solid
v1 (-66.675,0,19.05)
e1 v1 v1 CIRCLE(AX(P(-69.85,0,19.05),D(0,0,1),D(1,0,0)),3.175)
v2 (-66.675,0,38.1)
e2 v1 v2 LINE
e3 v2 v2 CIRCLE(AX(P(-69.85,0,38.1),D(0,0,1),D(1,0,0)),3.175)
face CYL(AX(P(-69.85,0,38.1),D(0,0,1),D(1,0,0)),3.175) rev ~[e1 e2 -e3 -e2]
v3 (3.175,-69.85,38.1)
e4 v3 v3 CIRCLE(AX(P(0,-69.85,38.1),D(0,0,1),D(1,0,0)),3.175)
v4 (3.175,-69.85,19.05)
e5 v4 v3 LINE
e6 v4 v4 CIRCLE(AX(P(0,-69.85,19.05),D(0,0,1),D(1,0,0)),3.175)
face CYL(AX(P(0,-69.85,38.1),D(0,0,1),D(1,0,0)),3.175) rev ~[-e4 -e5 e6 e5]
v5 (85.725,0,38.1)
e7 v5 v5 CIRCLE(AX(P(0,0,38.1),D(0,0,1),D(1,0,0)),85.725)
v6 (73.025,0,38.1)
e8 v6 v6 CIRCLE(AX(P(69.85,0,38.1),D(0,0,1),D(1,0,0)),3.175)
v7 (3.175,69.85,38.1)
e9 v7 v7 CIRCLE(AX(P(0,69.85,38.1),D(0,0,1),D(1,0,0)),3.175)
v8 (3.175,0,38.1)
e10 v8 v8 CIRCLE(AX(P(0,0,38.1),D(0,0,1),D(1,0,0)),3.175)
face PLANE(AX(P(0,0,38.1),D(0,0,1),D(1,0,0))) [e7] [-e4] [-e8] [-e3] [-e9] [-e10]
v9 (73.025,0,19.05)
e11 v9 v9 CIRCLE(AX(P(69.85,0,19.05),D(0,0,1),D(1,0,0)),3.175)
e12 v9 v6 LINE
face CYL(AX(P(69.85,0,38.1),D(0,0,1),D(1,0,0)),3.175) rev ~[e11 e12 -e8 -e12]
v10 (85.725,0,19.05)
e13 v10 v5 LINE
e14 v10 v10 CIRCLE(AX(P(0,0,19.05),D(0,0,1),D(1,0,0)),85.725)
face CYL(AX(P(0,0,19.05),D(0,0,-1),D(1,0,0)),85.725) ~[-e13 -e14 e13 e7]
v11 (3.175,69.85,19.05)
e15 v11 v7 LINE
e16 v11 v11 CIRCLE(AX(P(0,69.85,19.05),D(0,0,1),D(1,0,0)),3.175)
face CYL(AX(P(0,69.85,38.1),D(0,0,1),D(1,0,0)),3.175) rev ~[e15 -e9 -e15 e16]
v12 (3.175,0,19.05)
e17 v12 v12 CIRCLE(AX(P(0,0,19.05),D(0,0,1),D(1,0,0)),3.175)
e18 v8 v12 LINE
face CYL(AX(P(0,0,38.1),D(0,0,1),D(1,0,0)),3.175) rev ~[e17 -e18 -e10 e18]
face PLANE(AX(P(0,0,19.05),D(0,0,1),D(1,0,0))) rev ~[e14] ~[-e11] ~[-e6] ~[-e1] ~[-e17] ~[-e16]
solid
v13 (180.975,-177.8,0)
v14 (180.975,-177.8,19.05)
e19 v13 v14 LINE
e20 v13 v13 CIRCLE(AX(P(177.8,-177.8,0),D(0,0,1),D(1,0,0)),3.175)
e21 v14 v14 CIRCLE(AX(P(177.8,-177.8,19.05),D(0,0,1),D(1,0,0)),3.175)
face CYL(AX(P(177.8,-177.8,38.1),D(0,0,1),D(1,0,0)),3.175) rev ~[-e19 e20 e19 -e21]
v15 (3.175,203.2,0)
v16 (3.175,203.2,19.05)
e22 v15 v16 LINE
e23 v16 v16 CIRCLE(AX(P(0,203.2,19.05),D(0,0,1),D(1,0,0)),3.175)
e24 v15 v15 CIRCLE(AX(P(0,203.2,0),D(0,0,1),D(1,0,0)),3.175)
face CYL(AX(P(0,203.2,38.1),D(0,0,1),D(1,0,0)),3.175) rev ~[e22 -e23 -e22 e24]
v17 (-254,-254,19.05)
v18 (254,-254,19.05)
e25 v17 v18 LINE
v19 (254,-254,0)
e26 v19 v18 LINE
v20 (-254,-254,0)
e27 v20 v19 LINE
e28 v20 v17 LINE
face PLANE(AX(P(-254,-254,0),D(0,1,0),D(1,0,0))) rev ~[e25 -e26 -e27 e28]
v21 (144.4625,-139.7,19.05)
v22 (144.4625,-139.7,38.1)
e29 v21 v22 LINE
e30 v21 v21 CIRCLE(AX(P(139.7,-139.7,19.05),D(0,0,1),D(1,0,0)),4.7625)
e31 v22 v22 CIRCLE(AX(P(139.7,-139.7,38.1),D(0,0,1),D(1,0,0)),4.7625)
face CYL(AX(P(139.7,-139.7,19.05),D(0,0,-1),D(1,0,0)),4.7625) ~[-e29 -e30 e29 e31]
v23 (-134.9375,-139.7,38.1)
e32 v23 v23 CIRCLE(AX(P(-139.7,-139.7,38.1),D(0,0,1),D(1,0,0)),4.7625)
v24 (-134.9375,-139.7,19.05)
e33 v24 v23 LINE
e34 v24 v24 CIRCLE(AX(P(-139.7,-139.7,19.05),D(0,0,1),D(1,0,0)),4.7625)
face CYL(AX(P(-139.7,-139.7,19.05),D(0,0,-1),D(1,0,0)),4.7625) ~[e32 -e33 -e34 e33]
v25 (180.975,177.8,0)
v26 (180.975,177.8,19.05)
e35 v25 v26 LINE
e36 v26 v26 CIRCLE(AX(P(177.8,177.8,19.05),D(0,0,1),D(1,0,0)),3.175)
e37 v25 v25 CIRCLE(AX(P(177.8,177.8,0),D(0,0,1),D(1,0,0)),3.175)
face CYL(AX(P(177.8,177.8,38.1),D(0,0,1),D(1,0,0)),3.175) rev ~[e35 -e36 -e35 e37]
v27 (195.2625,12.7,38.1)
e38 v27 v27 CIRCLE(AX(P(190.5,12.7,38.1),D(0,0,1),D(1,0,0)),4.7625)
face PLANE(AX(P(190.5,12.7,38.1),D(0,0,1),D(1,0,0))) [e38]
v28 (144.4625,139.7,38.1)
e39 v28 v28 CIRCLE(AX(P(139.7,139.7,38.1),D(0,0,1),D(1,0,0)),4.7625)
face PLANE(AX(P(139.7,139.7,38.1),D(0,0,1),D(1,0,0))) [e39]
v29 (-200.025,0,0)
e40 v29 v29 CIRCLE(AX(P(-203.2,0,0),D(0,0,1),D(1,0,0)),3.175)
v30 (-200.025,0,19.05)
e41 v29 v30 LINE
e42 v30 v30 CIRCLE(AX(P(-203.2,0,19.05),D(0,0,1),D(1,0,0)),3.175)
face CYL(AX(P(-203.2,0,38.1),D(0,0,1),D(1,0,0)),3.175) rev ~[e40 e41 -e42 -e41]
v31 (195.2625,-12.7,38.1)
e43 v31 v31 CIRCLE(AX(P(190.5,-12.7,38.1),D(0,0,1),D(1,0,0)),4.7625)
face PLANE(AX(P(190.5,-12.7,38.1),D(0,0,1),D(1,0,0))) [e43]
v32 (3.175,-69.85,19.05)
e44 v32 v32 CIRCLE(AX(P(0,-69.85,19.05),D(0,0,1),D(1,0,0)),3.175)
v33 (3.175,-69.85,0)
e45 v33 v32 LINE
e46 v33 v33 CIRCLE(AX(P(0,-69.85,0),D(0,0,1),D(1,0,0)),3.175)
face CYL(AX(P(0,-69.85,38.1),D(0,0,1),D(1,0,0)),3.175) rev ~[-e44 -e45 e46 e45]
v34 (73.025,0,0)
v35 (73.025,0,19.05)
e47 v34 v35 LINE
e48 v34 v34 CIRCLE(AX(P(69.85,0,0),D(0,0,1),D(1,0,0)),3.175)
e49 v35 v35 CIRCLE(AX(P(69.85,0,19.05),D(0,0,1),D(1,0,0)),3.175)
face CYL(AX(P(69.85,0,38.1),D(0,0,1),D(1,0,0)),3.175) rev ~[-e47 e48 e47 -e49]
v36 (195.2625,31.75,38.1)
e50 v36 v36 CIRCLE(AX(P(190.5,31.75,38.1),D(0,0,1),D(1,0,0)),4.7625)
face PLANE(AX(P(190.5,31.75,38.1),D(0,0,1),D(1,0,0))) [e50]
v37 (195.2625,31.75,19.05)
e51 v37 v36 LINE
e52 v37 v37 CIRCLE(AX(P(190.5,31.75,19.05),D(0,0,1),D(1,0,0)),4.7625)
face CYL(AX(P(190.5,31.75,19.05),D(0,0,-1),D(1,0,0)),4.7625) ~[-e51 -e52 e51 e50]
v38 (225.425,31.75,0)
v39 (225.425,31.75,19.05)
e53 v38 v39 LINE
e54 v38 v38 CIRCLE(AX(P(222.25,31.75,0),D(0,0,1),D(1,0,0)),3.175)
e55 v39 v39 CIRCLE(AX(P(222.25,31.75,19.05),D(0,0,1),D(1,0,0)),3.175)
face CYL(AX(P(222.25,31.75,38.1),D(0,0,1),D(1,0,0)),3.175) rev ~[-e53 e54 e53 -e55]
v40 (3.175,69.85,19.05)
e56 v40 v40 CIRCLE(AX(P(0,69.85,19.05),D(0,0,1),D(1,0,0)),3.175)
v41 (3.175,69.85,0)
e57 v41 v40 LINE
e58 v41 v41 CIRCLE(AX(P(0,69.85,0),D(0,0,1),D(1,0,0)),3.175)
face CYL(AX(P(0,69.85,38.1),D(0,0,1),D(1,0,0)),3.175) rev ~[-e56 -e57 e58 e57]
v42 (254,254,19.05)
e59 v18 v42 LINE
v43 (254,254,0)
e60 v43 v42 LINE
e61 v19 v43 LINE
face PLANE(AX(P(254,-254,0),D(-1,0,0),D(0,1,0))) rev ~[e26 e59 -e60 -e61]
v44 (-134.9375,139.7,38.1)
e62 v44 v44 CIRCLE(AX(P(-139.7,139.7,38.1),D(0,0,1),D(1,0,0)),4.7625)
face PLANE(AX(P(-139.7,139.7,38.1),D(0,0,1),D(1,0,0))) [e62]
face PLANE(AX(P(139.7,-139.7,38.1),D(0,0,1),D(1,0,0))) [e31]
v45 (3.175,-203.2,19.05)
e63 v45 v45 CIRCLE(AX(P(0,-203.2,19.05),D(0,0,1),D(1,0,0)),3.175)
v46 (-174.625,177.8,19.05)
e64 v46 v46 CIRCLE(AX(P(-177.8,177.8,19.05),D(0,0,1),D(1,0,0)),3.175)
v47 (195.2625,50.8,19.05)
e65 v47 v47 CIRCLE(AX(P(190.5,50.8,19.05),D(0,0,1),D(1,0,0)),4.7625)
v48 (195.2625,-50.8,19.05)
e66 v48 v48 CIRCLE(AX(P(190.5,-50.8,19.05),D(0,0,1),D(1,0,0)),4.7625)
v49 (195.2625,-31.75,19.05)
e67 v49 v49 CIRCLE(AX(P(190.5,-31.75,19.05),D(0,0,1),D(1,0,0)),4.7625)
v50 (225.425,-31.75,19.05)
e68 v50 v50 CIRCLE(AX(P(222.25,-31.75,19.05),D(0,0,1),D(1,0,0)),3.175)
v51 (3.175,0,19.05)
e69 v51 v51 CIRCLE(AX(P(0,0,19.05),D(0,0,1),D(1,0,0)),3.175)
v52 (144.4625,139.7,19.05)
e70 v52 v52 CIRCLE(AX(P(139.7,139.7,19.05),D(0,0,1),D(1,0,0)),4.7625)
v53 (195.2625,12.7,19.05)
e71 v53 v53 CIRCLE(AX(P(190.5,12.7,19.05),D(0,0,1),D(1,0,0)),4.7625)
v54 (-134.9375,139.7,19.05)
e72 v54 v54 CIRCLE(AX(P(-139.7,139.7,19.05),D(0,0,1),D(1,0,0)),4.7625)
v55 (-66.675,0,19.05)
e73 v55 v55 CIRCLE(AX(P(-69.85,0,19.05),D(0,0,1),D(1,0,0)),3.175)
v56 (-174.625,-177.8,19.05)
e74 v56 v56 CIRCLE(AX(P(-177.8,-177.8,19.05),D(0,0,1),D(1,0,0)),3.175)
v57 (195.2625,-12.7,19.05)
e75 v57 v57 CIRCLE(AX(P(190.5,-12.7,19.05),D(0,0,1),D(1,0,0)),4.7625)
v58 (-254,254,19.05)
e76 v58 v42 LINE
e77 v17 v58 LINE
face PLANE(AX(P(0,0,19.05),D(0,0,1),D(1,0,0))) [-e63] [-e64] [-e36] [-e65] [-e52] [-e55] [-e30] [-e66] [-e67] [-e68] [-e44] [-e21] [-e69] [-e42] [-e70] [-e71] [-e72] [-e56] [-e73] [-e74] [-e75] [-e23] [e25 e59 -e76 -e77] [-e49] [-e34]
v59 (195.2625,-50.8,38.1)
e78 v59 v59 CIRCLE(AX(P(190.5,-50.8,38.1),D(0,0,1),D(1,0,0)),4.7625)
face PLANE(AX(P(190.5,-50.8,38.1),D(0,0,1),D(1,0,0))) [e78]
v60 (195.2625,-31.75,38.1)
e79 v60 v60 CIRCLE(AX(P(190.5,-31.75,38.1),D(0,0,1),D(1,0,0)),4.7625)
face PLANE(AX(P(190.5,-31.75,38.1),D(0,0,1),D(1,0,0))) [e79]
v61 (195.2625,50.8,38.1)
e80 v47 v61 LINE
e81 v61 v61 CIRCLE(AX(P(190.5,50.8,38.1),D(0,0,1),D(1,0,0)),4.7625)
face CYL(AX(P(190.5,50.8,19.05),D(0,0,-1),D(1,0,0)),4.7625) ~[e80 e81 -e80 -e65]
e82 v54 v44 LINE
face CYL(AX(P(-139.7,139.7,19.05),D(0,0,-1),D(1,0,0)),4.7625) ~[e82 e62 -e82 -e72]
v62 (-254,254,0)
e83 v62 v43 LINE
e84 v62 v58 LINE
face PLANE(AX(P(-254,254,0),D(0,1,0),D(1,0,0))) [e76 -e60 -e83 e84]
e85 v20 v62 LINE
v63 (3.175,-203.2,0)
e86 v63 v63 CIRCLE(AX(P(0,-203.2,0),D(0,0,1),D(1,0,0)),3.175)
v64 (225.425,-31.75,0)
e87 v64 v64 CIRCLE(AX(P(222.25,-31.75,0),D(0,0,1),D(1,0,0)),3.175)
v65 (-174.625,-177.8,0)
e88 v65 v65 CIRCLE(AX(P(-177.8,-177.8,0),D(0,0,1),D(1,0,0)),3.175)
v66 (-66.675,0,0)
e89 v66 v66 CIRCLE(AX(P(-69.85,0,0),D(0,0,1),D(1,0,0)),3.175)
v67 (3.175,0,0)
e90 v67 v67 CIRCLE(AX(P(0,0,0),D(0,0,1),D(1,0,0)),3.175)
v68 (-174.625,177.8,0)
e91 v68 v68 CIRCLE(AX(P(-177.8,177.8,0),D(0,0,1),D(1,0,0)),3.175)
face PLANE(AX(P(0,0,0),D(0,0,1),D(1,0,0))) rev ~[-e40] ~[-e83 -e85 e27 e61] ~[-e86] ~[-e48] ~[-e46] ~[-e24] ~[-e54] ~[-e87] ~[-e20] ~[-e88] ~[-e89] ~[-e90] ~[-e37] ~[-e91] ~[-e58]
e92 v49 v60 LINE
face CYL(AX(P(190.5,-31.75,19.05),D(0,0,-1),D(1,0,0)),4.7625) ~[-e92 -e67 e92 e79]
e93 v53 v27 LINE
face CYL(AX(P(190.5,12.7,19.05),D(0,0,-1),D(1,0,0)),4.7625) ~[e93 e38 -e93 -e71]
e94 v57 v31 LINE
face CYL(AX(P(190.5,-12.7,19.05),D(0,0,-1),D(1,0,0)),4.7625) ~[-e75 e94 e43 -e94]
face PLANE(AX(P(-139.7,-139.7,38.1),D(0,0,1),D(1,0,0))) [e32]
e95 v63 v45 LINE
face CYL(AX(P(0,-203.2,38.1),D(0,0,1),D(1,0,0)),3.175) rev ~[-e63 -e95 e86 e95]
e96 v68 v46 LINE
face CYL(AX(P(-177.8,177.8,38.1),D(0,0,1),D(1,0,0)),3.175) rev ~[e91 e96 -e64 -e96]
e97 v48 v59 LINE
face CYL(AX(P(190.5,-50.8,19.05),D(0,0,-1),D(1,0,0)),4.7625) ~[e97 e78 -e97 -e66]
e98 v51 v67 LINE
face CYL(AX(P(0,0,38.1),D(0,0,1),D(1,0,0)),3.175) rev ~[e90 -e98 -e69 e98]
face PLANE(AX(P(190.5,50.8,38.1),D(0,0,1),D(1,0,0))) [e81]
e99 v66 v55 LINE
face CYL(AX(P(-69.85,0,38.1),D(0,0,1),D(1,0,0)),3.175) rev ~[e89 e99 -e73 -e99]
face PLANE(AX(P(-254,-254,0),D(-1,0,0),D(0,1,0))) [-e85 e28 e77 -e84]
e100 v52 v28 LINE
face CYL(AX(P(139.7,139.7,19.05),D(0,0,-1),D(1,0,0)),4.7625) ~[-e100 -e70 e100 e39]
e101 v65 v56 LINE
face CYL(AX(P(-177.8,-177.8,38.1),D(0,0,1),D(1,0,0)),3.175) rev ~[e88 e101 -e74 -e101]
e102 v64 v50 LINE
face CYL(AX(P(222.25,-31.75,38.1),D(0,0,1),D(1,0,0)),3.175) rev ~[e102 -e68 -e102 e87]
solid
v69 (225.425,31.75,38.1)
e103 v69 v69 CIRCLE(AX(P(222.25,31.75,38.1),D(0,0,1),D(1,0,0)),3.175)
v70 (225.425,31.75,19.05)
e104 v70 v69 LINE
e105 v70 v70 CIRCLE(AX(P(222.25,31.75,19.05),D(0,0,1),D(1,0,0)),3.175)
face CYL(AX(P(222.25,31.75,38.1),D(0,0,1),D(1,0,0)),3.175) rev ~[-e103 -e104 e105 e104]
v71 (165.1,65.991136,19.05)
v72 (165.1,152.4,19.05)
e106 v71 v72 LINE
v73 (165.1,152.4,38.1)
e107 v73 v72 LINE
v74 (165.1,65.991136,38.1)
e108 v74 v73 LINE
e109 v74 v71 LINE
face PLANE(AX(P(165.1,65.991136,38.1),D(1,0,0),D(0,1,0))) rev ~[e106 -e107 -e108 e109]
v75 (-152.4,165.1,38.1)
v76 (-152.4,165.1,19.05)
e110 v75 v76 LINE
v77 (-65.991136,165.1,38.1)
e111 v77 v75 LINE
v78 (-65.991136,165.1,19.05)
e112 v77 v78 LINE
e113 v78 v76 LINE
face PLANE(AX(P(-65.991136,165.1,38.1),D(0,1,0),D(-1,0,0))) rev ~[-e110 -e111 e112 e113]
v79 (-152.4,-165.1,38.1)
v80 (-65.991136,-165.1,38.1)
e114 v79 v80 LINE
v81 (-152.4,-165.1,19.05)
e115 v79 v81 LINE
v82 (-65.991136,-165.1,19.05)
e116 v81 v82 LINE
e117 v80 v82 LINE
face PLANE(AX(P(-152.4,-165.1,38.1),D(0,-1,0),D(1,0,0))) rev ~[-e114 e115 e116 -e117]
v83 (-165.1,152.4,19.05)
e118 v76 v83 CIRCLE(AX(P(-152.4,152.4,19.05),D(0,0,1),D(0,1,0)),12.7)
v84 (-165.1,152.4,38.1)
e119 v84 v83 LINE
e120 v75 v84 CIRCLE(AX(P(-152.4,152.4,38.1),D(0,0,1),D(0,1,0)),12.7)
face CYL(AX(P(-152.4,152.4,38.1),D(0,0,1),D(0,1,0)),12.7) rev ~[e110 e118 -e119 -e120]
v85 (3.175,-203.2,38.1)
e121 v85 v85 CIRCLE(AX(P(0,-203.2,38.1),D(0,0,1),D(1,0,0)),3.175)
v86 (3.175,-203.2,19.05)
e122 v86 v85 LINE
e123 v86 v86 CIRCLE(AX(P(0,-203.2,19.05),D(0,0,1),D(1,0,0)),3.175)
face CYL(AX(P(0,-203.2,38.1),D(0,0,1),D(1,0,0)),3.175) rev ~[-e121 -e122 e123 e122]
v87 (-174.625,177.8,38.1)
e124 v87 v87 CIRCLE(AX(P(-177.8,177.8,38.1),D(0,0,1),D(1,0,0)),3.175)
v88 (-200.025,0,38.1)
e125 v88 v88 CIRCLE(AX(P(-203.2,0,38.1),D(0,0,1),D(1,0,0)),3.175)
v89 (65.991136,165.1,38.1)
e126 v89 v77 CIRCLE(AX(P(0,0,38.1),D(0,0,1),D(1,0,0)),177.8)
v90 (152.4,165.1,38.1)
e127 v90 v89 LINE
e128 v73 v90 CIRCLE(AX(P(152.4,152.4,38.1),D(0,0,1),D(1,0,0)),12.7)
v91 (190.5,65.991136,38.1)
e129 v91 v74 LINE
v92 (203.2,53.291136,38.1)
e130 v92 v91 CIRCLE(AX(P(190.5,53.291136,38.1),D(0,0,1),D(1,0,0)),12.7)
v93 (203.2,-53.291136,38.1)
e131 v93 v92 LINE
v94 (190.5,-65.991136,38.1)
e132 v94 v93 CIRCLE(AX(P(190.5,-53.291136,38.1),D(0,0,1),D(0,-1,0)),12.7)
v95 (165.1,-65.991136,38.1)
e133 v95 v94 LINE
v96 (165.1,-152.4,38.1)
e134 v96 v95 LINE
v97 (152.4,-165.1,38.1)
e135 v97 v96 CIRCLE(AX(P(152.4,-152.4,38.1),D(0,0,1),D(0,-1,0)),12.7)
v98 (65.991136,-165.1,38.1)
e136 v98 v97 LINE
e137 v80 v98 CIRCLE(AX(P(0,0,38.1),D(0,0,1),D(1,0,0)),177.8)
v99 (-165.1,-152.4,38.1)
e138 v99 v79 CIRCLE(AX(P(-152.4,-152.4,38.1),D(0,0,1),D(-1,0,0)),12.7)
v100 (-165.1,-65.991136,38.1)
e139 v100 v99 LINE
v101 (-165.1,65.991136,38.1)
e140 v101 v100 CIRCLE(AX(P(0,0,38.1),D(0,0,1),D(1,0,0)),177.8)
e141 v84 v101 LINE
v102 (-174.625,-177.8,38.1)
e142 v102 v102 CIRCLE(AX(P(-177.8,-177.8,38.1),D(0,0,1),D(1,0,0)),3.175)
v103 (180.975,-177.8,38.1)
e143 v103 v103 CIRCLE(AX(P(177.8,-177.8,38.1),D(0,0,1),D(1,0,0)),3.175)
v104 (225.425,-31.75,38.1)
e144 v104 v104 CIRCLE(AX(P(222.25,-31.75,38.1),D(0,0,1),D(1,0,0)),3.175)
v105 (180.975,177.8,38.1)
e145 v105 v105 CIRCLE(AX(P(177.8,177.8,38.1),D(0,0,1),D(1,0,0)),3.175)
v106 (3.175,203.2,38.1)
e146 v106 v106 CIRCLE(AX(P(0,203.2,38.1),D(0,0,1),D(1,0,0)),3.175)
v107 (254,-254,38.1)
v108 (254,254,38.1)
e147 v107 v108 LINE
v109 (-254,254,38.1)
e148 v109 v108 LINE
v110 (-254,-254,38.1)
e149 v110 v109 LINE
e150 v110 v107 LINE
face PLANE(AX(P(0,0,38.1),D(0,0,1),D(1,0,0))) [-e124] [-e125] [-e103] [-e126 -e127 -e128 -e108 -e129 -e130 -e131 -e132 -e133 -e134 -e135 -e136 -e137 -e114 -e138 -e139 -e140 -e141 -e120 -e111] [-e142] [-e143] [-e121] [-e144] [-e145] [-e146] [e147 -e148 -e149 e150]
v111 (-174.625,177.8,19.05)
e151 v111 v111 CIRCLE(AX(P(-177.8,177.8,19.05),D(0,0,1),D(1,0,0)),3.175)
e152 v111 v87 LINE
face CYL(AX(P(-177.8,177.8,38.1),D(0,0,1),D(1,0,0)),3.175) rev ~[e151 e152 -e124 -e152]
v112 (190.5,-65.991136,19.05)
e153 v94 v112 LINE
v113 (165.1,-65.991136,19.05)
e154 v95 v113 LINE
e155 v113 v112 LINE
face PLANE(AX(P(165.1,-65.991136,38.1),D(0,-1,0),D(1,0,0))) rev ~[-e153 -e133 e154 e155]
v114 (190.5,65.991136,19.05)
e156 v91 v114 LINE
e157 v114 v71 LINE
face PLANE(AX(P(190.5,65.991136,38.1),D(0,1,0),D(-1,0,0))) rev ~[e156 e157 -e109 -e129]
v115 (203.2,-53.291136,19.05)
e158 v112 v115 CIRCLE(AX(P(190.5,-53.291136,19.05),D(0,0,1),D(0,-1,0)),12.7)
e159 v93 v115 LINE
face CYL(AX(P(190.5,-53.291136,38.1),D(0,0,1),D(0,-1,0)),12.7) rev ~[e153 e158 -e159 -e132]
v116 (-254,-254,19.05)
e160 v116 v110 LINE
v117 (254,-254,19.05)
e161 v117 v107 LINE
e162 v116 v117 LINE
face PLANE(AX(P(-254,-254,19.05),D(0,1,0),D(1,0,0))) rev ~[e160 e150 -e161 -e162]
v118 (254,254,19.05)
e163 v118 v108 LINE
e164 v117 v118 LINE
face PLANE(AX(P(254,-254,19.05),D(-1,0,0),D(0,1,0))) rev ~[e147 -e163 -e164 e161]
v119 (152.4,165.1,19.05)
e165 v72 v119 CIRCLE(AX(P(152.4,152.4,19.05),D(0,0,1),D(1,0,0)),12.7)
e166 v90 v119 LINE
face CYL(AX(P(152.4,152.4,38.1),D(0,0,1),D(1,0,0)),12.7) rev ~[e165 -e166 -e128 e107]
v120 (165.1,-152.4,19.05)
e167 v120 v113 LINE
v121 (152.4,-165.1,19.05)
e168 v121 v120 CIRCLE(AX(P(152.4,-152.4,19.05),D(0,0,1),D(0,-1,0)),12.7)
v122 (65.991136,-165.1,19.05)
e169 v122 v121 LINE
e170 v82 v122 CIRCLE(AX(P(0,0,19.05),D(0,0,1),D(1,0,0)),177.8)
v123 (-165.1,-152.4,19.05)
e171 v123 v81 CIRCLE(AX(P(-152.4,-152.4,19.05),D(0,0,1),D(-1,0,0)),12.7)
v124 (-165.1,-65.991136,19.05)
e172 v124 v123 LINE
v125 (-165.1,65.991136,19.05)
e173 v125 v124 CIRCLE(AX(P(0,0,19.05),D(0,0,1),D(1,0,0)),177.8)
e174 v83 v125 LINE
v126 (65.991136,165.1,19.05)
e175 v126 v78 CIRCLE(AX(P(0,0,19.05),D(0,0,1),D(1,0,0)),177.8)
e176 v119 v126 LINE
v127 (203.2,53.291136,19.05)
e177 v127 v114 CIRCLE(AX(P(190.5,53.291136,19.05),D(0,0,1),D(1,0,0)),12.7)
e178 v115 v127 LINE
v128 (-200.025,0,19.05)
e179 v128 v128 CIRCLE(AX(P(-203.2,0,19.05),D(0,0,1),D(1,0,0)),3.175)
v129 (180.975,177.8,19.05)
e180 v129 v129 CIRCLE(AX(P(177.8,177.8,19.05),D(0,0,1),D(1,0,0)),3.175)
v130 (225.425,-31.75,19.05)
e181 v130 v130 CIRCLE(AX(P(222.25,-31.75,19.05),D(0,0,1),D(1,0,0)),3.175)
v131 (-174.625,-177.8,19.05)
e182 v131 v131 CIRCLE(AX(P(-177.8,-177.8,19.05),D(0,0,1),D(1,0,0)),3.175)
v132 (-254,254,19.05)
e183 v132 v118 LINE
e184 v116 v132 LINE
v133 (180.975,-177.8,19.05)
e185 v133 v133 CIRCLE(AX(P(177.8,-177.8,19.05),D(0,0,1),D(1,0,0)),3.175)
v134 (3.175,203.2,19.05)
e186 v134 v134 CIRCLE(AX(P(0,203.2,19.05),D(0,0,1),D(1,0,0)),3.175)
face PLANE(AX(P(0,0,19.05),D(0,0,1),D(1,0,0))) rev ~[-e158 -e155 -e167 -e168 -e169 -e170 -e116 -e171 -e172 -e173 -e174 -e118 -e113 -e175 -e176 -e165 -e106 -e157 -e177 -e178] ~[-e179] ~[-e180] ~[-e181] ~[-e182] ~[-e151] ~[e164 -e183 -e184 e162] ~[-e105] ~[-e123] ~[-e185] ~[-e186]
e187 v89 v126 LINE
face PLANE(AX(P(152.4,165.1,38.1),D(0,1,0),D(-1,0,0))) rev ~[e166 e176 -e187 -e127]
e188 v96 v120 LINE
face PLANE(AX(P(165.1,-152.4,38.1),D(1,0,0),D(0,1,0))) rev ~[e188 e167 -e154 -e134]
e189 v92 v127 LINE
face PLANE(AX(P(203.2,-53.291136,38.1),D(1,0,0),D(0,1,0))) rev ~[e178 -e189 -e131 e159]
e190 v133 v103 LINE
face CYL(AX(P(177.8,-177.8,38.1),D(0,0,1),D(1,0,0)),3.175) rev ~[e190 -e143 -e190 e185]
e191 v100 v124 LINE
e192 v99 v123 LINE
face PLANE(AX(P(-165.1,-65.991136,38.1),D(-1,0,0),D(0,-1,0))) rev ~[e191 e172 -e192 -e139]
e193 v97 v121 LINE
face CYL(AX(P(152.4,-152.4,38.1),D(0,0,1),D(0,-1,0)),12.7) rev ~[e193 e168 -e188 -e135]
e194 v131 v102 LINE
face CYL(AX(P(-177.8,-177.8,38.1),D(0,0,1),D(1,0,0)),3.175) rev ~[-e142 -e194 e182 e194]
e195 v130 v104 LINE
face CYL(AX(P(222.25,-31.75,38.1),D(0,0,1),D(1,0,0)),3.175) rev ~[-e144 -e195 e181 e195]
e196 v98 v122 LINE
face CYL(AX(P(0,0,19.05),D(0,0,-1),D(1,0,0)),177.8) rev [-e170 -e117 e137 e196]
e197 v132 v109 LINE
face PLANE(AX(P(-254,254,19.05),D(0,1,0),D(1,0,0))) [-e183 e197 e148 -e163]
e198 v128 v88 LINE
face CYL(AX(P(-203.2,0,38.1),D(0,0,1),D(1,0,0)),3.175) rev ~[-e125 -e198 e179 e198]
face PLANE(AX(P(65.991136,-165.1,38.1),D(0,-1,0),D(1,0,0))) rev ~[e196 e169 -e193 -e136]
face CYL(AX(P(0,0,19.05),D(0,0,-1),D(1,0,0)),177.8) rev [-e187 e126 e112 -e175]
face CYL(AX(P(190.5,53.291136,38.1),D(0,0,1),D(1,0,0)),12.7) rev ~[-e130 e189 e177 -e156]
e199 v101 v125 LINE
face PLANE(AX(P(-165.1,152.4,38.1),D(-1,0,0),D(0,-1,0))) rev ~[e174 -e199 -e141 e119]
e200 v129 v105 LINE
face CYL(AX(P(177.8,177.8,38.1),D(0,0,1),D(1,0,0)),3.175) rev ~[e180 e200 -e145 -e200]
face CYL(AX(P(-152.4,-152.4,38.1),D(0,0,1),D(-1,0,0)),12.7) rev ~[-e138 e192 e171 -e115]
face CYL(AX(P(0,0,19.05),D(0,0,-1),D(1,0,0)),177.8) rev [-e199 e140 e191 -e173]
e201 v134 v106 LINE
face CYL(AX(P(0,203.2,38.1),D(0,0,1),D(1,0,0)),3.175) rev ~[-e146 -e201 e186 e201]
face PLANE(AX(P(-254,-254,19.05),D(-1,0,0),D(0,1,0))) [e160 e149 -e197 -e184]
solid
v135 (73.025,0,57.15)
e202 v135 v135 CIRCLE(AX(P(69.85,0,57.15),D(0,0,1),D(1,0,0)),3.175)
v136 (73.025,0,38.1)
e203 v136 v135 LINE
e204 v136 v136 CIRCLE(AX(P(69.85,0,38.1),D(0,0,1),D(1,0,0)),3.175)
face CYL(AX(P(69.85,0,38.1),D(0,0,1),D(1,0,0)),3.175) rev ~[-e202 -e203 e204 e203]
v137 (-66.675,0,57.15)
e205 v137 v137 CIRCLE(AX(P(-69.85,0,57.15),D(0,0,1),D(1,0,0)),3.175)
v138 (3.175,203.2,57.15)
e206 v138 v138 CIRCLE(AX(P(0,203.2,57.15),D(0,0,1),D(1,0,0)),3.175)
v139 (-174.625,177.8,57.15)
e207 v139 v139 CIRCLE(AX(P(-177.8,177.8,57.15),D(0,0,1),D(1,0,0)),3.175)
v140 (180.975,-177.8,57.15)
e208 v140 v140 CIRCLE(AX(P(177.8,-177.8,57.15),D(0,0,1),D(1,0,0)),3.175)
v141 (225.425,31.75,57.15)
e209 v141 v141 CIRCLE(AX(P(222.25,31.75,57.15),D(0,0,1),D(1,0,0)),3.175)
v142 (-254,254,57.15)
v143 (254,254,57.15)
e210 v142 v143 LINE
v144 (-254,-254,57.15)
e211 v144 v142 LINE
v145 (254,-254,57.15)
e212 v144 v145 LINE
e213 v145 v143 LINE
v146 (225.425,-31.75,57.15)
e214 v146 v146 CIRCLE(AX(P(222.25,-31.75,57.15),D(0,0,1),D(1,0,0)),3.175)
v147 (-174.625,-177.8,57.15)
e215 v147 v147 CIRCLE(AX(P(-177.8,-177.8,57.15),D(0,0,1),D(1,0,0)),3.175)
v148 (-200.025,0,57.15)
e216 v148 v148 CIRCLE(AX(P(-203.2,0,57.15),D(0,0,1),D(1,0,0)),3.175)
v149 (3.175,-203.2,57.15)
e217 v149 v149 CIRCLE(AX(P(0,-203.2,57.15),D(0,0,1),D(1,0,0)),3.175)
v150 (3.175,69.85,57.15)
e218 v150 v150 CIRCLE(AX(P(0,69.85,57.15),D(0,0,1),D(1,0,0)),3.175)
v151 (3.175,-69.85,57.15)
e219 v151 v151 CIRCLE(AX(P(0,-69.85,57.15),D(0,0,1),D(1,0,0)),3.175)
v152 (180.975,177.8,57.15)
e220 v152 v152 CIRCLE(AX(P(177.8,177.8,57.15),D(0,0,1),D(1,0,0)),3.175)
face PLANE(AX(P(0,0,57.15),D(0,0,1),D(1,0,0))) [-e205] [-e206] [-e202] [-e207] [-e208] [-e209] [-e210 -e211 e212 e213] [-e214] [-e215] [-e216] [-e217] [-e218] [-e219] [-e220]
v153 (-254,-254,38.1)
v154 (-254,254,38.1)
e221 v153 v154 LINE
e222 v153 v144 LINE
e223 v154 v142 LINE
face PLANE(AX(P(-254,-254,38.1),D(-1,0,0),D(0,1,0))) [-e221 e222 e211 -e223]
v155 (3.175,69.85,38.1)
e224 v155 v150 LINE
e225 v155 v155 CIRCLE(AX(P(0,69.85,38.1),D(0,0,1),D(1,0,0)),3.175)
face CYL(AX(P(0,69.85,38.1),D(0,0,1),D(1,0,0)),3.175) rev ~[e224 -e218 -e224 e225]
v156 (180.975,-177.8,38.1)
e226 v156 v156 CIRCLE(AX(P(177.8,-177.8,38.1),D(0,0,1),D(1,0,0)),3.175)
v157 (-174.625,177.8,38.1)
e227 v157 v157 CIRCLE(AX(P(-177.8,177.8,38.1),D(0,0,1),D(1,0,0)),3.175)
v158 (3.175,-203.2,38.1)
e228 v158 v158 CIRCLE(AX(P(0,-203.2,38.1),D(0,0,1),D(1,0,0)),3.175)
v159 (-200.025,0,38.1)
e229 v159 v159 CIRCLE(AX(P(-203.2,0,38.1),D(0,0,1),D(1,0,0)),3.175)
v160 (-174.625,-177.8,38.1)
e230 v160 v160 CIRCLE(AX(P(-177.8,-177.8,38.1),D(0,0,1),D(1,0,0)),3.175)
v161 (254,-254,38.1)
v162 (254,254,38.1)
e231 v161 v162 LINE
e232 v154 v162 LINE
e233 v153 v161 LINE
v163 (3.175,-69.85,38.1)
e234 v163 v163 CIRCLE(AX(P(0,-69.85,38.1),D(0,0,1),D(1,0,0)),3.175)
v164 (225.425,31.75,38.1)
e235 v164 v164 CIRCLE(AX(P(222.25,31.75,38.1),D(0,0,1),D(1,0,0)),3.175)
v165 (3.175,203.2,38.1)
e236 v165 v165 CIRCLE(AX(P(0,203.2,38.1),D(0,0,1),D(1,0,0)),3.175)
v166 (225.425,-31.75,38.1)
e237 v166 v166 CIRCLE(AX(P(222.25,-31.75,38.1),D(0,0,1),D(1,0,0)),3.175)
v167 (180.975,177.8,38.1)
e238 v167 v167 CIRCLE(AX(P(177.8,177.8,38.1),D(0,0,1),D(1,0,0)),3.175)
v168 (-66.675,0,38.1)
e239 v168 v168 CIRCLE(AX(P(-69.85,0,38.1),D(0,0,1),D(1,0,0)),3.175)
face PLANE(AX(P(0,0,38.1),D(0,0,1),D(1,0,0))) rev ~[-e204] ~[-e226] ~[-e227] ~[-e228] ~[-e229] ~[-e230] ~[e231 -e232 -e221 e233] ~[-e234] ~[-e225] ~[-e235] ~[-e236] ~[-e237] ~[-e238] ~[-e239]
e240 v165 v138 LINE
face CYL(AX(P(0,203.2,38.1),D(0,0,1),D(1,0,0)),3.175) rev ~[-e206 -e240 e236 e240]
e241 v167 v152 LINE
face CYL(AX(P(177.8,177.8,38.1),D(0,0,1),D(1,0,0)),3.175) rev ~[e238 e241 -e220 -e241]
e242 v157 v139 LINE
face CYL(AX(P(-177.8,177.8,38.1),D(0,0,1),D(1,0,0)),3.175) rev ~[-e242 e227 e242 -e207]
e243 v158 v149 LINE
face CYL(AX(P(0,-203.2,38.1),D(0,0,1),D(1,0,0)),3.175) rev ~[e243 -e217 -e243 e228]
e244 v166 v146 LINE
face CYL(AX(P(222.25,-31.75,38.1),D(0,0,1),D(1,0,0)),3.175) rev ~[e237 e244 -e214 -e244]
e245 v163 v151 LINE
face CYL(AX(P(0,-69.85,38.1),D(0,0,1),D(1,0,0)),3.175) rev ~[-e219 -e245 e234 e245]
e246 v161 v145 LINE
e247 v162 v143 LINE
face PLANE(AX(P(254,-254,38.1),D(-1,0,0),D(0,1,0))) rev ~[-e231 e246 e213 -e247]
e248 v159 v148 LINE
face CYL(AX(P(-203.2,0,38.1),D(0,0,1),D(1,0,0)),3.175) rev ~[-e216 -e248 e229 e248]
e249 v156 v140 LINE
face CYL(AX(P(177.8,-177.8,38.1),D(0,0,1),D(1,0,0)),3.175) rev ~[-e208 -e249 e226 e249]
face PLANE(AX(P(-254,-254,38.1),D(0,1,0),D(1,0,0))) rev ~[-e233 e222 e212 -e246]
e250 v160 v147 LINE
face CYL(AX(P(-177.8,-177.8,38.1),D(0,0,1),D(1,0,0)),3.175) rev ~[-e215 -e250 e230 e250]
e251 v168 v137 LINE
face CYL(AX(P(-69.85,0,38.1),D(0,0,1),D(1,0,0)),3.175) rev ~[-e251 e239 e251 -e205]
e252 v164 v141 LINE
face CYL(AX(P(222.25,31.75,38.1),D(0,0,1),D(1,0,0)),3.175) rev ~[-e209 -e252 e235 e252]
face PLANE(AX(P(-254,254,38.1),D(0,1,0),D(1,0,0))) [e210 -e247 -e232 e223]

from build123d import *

# Parameters (mm, degrees)
F0_W          = 508
F0_H          = 508
F1_DEPTH      = 19.05
F2_W          = 508
F2_H          = 508
F2_R          = 177.8
F3_DEPTH      = 19.05
F2_R_2        = 85.725
F5_DEPTH      = 19.05
F7_W          = 508
F7_H          = 508
F8_DEPTH      = 19.05
F6_R          = 3.175
F9_DEPTH      = 25.4
F9_DEPTH_BACK = 44.45
F10_DEPTH     = 50.8
F11_R         = 4.7625
F12_DEPTH     = 19.05


with BuildPart() as f1:
    # F0 (on Top) → F1 (new body)
    with BuildSketch(Plane.XY):
        Rectangle(F0_W, F0_H)
    extrude(amount=F1_DEPTH)


with BuildPart() as f3:
    # F2 (on face) → F3 (new body)
    with BuildSketch(Plane.XY.offset(19.05)):
        Rectangle(F2_W, F2_H)
        Circle(F2_R, mode=Mode.SUBTRACT)
    extrude(amount=F3_DEPTH)

    # F4 (on face) → F5 (cut)
    with BuildSketch(Plane.XY.offset(38.1)):
        with BuildLine():
            Line((-165.1, 152.4), (-165.1, 65.9911357684))
            ThreePointArc((-165.1, 65.9911357684), (-125.723585695, 125.723585695), (-65.9911357684, 165.1))
            Line((-65.9911357684, 165.1), (-152.4, 165.1))
            ThreePointArc((-152.4, 165.1), (-161.3802561211, 161.3802561211), (-165.1, 152.4))
        make_face()
        with BuildLine():
            ThreePointArc((65.9911357684, 165.1), (125.723585695, 125.723585695), (165.1, 65.9911357684))
            Line((165.1, 65.9911357684), (165.1, 152.4))
            ThreePointArc((165.1, 152.4), (161.3802561211, 161.3802561211), (152.4, 165.1))
            Line((152.4, 165.1), (65.9911357684, 165.1))
        make_face()
        with BuildLine():
            Line((65.9911357684, -165.1), (152.4, -165.1))
            ThreePointArc((152.4, -165.1), (161.3802561211, -161.3802561211), (165.1, -152.4))
            Line((165.1, -152.4), (165.1, -65.9911357684))
            ThreePointArc((165.1, -65.9911357684), (125.723585695, -125.723585695), (65.9911357684, -165.1))
        make_face()
        with BuildLine():
            Line((-152.4, -165.1), (-65.9911357684, -165.1))
            ThreePointArc((-65.9911357684, -165.1), (-125.723585695, -125.723585695), (-165.1, -65.9911357684))
            Line((-165.1, -65.9911357684), (-165.1, -152.4))
            ThreePointArc((-165.1, -152.4), (-161.3802561211, -161.3802561211), (-152.4, -165.1))
        make_face()
        with BuildLine():
            ThreePointArc((177.8, 0), (174.5961339778, -33.6010416505), (165.1, -65.9911357684))
            Line((165.1, -65.9911357684), (190.5, -65.9911357684))
            ThreePointArc((190.5, -65.9911357684), (199.4802561211, -62.2713918894), (203.2, -53.2911357684))
            Line((203.2, -53.2911357684), (203.2, 53.2911357684))
            ThreePointArc((203.2, 53.2911357684), (199.4802561211, 62.2713918894), (190.5, 65.9911357684))
            Line((190.5, 65.9911357684), (165.1, 65.9911357684))
            ThreePointArc((165.1, 65.9911357684), (174.5961339778, 33.6010416505), (177.8, 0))
        make_face()
    extrude(amount=-F5_DEPTH, mode=Mode.SUBTRACT)


with BuildPart() as f3b:
    # F2 (on face) → F3, piece 2 (new body)
    with BuildSketch(Plane.XY.offset(19.05)):
        Circle(F2_R_2)
    extrude(amount=F3_DEPTH)


with BuildPart() as f8:
    # F7 (on face) → F8 (new body)
    with BuildSketch(Plane.XY.offset(38.1)):
        Rectangle(F7_W, F7_H)
    extrude(amount=F8_DEPTH)


with BuildPart() as f9_tool:
    # F6 (on face) → F9 (new body, two sides)
    with BuildSketch(Plane.XY.offset(38.1)) as f9_sk:
        with Locations((177.8, -177.8)):
            Circle(F6_R)
        with Locations((222.25, -31.75)):
            Circle(F6_R)
        with Locations((222.25, 31.75)):
            Circle(F6_R)
        with Locations((177.8, 177.8)):
            Circle(F6_R)
        with Locations((0, 203.2)):
            Circle(F6_R)
        with Locations((-177.8, 177.8)):
            Circle(F6_R)
        with Locations((-203.2, 0)):
            Circle(F6_R)
        with Locations((-177.8, -177.8)):
            Circle(F6_R)
        with Locations((0, -203.2)):
            Circle(F6_R)
        with Locations((0, -69.85)):
            Circle(F6_R)
        with Locations((-69.85, 0)):
            Circle(F6_R)
        with Locations((0, 69.85)):
            Circle(F6_R)
        with Locations((69.85, 0)):
            Circle(F6_R)
    extrude(amount=F9_DEPTH)
    extrude(f9_sk.sketch, amount=-F9_DEPTH_BACK)


with BuildPart() as f1_1:
    add(f1.part)

    # F9: cut by f9_tool
    add(f9_tool.part, mode=Mode.SUBTRACT)


with BuildPart() as f3_1:
    add(f3.part)

    # F9: cut by f9_tool
    add(f9_tool.part, mode=Mode.SUBTRACT)


with BuildPart() as f3b_1:
    add(f3b.part)

    # F9: cut by f9_tool
    add(f9_tool.part, mode=Mode.SUBTRACT)


with BuildPart() as f8_1:
    add(f8.part)

    # F9: cut by f9_tool
    add(f9_tool.part, mode=Mode.SUBTRACT)


with BuildPart() as f10_tool:
    # F6 (on face) → F10 (new body)
    with BuildSketch(Plane.XY.offset(38.1)):
        Circle(F6_R)
    extrude(amount=-F10_DEPTH)


with BuildPart() as f1_2:
    add(f1_1.part)

    # F10: cut by f10_tool
    add(f10_tool.part, mode=Mode.SUBTRACT)

    # F11 (on face) → F12 (join)
    with BuildSketch(Plane.XY.offset(19.05)):
        with Locations((-139.7, 139.7)):
            Circle(F11_R)
        with Locations((-139.7, -139.7)):
            Circle(F11_R)
        with Locations((139.7, -139.7)):
            Circle(F11_R)
        with Locations((139.7, 139.7)):
            Circle(F11_R)
        with Locations((190.5, 50.8)):
            Circle(F11_R)
        with Locations((190.5, 31.75)):
            Circle(F11_R)
        with Locations((190.5, 12.7)):
            Circle(F11_R)
        with Locations((190.5, -12.7)):
            Circle(F11_R)
        with Locations((190.5, -31.75)):
            Circle(F11_R)
        with Locations((190.5, -50.8)):
            Circle(F11_R)
    extrude(amount=F12_DEPTH)


with BuildPart() as f3b_2:
    add(f3b_1.part)

    # F10: cut by f10_tool
    add(f10_tool.part, mode=Mode.SUBTRACT)


solid = Compound([f3_1.part, f8_1.part, f1_2.part, f3b_2.part])
